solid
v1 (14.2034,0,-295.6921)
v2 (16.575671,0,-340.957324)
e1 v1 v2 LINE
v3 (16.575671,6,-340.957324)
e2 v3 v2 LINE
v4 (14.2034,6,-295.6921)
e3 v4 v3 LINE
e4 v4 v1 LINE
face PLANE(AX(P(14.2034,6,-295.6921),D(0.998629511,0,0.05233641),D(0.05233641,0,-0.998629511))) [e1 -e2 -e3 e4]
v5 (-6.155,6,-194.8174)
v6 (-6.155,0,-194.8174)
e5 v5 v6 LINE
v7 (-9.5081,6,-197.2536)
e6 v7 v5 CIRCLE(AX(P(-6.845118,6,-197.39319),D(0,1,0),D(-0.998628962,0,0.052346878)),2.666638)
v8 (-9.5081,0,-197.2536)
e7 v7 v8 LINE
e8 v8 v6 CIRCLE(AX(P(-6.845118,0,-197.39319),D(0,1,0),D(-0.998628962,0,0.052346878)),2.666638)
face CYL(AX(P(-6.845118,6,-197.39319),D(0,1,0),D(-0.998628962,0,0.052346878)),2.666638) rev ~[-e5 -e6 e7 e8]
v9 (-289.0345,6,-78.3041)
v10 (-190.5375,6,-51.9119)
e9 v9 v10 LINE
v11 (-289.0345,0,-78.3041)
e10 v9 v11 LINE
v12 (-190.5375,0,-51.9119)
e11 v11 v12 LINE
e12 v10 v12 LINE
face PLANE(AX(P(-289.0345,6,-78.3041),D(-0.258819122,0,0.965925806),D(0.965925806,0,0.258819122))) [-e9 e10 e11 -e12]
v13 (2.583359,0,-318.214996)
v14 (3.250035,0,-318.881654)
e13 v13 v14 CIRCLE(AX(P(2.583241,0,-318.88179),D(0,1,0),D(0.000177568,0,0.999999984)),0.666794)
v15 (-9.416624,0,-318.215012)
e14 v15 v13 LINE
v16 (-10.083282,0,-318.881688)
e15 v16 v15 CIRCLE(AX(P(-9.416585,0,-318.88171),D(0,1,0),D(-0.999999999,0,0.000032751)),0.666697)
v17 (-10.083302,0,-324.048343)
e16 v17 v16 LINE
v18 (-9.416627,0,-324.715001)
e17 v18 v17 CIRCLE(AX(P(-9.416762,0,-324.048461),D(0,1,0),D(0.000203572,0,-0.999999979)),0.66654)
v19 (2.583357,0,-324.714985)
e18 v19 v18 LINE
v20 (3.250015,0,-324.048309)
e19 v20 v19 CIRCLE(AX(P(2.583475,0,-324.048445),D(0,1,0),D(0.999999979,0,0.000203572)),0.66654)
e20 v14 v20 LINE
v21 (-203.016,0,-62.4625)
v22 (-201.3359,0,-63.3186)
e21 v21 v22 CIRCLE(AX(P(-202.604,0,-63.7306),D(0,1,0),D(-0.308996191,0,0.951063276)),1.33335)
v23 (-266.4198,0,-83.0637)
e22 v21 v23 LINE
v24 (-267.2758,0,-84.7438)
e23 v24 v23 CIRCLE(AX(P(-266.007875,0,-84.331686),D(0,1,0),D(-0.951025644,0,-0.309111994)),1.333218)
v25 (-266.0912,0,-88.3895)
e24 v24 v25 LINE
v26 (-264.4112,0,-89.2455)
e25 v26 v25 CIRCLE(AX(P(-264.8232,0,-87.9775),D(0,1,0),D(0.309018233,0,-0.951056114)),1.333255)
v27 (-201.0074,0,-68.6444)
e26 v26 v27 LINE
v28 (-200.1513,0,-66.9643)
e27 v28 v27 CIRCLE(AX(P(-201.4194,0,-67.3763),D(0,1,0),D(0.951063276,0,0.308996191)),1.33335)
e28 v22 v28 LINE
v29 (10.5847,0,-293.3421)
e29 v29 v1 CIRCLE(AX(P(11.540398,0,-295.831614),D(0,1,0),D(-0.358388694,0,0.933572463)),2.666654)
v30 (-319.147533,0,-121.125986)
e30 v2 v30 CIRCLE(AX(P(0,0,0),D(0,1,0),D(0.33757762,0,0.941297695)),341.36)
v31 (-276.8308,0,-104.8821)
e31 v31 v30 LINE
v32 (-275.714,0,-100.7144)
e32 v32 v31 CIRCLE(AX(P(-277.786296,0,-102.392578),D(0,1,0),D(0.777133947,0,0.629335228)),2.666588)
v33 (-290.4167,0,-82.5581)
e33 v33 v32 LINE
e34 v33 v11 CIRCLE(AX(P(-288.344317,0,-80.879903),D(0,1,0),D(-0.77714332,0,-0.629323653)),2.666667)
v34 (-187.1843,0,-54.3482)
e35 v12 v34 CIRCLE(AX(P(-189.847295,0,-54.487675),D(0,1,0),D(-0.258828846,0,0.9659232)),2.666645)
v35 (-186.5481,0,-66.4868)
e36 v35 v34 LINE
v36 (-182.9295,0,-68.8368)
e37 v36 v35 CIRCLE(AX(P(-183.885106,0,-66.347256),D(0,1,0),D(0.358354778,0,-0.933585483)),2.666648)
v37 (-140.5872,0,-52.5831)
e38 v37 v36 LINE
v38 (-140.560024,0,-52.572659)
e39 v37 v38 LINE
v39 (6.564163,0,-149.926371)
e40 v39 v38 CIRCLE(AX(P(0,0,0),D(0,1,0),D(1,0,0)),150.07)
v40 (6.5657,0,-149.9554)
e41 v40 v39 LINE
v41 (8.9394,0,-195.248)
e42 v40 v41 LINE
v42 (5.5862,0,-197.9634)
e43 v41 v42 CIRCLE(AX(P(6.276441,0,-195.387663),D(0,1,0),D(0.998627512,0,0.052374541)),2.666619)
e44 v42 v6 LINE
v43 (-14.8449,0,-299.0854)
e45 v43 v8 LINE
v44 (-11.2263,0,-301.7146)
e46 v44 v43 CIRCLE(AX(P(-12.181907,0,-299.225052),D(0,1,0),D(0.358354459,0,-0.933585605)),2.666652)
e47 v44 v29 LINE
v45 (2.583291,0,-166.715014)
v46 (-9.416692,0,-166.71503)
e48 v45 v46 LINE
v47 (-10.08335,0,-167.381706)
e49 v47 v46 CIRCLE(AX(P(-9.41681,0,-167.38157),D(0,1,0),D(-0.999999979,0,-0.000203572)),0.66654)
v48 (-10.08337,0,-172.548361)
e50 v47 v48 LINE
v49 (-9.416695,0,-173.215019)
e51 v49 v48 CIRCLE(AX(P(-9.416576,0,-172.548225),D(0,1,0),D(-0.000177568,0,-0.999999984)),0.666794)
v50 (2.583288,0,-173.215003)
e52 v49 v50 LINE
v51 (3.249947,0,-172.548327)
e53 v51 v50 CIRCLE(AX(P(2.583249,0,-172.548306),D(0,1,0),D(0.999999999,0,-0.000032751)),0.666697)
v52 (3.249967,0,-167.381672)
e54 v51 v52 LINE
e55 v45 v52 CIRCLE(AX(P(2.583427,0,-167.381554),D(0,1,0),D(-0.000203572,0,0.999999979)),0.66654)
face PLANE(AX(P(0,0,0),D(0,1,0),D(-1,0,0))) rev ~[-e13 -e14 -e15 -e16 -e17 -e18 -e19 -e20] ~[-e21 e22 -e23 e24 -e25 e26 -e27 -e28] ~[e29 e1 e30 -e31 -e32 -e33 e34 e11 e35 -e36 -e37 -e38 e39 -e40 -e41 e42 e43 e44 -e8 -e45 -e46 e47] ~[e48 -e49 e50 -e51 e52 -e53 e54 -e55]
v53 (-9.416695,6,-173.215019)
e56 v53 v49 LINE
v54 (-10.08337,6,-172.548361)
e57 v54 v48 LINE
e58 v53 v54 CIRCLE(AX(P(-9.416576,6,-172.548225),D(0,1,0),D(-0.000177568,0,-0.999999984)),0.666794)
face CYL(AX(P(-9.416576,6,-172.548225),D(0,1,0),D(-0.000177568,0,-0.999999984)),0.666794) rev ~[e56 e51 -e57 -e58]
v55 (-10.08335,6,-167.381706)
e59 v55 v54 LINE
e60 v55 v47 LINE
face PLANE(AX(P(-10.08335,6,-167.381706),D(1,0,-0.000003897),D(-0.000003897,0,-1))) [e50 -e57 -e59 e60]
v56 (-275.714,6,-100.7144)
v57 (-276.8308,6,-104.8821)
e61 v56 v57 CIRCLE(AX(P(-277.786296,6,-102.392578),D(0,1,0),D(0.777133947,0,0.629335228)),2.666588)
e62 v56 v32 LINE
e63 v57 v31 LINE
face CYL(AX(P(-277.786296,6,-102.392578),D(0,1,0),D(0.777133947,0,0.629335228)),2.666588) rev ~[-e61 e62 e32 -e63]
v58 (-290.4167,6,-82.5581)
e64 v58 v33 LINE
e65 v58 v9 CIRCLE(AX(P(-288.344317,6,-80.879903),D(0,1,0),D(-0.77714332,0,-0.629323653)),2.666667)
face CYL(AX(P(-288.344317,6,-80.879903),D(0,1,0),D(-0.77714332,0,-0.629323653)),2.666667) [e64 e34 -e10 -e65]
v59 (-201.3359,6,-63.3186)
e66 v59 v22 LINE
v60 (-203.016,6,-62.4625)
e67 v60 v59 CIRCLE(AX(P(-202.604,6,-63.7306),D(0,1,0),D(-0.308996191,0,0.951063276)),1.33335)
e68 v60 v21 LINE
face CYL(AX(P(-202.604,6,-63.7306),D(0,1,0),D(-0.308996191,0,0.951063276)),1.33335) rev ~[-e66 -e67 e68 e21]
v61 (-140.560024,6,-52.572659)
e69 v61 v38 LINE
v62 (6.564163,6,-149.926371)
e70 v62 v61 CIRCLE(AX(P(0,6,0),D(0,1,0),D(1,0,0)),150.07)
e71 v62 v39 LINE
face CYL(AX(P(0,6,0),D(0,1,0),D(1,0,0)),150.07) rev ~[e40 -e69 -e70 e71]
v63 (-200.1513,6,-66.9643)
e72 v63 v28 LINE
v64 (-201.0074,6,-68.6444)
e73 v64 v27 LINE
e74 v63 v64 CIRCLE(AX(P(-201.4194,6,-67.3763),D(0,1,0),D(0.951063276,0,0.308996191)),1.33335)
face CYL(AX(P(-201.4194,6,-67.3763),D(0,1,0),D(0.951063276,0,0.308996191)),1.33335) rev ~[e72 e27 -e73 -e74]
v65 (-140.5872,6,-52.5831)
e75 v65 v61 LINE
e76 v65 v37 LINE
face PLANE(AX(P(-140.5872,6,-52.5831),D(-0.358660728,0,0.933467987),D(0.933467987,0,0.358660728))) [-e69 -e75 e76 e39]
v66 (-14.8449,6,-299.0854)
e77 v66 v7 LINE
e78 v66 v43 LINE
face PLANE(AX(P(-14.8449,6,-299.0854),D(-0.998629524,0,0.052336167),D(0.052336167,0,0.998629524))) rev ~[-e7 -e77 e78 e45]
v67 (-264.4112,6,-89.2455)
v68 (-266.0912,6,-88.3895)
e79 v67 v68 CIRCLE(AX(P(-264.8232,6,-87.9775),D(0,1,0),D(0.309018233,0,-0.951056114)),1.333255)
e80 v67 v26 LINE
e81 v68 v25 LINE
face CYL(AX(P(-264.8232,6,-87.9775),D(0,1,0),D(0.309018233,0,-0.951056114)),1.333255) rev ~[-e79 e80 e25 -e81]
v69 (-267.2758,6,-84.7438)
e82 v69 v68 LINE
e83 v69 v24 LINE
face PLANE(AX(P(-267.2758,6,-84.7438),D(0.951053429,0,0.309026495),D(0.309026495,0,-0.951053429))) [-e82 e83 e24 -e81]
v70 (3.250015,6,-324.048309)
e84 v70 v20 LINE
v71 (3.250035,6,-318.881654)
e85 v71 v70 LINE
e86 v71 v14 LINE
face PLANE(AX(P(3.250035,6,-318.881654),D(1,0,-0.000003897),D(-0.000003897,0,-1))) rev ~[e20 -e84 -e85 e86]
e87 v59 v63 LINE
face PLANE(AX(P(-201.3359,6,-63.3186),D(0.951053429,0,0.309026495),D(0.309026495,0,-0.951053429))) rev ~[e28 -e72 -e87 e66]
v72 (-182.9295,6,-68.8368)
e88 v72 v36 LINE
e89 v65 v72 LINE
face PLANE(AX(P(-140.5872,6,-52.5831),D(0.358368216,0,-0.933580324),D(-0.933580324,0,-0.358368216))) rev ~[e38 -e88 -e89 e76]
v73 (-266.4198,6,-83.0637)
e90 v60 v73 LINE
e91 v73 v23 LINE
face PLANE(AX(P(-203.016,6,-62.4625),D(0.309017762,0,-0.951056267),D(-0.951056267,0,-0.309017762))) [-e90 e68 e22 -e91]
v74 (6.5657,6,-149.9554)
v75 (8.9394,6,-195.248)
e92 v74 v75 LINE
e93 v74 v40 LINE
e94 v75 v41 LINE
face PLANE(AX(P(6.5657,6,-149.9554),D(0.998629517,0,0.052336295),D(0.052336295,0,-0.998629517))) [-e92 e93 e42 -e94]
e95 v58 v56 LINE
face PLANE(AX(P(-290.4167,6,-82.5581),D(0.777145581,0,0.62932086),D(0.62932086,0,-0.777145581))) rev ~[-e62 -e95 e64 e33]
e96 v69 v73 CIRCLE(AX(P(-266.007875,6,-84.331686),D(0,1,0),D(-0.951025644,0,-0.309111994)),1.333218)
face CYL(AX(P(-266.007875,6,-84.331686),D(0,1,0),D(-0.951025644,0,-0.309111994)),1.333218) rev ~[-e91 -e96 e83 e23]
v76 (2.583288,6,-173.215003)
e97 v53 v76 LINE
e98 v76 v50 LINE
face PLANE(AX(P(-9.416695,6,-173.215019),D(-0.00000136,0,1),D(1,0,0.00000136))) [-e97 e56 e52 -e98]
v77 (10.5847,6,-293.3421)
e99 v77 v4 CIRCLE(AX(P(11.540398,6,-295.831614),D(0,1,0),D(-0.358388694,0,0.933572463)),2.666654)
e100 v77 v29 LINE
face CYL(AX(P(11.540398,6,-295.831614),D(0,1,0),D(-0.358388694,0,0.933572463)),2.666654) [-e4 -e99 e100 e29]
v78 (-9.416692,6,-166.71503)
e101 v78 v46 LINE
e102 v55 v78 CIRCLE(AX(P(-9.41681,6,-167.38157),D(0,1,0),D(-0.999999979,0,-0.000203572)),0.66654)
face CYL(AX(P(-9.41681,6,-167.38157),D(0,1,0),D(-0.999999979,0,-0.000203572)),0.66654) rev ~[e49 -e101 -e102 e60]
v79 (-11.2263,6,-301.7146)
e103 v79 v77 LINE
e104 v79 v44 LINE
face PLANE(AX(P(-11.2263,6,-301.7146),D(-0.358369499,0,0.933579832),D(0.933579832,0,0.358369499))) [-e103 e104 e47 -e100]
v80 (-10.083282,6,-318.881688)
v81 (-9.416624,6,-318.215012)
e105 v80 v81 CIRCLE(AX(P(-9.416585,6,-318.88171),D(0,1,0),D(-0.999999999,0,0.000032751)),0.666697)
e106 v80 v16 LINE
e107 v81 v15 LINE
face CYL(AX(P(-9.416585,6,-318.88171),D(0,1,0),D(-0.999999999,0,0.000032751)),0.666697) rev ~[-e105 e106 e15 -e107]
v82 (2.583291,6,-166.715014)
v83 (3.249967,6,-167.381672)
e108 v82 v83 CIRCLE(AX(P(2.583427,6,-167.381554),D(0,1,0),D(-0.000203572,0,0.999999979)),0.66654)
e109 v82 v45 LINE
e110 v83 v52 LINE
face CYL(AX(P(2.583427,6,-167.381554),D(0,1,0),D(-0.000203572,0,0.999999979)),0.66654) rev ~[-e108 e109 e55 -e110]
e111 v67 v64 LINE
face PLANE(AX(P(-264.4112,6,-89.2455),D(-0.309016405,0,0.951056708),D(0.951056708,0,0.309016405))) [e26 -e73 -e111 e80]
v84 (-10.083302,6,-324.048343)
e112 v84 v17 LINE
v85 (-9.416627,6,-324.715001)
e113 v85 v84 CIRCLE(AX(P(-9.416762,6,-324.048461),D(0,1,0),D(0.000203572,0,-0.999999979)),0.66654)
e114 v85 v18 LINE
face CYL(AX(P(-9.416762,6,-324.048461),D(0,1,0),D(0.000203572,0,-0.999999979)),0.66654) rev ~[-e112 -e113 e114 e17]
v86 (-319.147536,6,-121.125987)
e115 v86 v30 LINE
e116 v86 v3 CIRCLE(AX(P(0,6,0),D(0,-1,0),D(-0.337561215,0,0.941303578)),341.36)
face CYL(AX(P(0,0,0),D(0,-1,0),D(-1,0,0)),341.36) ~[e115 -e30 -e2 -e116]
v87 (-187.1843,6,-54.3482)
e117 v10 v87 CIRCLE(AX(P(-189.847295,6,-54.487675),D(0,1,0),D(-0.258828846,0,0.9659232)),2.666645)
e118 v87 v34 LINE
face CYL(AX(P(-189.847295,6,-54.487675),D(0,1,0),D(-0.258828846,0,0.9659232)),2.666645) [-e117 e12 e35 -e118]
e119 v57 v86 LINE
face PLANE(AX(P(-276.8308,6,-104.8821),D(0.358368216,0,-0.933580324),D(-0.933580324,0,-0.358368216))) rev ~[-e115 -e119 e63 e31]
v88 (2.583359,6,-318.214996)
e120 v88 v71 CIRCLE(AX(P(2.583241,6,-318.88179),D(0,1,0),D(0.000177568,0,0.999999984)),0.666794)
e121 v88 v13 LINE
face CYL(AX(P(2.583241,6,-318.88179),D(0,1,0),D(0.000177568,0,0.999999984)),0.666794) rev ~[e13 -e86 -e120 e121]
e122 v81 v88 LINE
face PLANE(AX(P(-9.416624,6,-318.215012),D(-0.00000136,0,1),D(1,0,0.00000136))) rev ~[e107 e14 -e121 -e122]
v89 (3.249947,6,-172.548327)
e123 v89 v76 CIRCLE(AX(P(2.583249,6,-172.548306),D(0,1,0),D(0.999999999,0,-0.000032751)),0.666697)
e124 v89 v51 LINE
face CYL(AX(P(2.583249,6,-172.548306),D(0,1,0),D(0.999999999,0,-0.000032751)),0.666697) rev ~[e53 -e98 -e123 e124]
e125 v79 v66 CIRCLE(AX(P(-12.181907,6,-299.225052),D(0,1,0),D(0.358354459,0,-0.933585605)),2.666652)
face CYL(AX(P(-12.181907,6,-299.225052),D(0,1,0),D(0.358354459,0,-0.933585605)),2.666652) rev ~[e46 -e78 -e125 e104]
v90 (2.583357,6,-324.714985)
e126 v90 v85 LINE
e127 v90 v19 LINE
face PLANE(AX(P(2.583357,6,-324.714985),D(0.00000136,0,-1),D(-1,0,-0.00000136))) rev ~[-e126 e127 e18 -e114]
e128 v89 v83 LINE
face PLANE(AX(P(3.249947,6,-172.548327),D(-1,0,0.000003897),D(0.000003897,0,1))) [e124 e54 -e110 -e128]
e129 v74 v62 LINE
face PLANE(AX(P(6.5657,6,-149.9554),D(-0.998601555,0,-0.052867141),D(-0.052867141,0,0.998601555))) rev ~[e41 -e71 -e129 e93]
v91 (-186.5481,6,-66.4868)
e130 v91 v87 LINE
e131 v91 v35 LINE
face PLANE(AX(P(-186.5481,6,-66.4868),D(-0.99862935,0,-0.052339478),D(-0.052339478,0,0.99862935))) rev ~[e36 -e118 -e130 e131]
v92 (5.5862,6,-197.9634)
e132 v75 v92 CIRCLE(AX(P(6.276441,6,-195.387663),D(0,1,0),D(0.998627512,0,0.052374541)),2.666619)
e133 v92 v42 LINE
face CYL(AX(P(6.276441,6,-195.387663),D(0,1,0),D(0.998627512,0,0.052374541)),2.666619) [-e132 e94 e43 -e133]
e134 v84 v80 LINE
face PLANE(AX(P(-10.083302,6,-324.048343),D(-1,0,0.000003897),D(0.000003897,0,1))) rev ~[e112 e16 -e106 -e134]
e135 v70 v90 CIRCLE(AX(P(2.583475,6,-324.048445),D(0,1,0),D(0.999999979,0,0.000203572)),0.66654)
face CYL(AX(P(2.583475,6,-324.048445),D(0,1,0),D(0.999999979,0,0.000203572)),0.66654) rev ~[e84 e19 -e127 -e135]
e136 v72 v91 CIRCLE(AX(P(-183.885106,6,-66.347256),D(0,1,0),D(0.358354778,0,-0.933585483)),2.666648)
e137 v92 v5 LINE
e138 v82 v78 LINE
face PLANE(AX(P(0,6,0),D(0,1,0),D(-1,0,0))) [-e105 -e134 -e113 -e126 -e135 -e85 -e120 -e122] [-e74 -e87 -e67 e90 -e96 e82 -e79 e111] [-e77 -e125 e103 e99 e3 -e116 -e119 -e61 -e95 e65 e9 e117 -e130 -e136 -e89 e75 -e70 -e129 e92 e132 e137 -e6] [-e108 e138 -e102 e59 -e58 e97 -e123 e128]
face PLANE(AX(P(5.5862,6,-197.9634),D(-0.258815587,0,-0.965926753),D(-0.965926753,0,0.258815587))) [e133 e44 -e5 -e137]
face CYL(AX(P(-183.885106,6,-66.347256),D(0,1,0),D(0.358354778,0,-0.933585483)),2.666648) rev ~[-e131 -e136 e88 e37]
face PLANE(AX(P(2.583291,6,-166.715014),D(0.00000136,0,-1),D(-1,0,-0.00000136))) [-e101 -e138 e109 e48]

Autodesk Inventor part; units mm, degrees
ref_plane "YZ Plane" through (0, 0, 0) normal (1, 0, 0) x (0, 1, 0)
ref_plane "XZ Plane" through (0, 0, 0) normal (0, 1, 0) x (-1, 0, 0)
ref_plane "XY Plane" through (0, 0, 0) normal (0, 0, 1) x (1, 0, 0)
sketch "Sketch1" plane through (0, 0, 0) normal (0, 1, 0) x (-1, 0, 0)
  circle A0 centre (0, 0) radius 341.36
  circle A1 centre (0, 0) radius 150.07
  dimension "d84" = 300.14
  dimension "d85" = 682.72
extrude "Extrusion3" add sketch "Sketch1" along normal blind 6 contours A0 | A1
sketch "Sketch2" plane through (0, 6, 0) normal (0, 1, 0) x (1, 0, 0)
  circle A0 centre (0, 0) radius 245.715 construction
  line L0 (245.7148, 0.3131) -> (341.6521, -0.0088)
  line L1 (3.25, 279.0483) -> (3.25, 212.3817)
  line L2 (-3.25, 212.3817) -> (-3.25, 279.0483)
  arc A1 (-3.25, 212.3817) -> (-1.9167, 211.0483) centre (-1.9167, 212.3817) ccw
  arc A2 (1.9167, 211.0483) -> (3.25, 212.3817) centre (1.9167, 212.3817) ccw
  arc A3 (-1.9167, 280.3817) -> (-3.25, 279.0483) centre (-1.9167, 279.0483) ccw
  arc A4 (3.25, 279.0483) -> (1.9167, 280.3817) centre (1.9167, 279.0483) ccw
  line L3 (-1.9167, 280.3817) -> (1.9167, 280.3817)
  line L4 (-1.9167, 211.0483) -> (1.9167, 211.0483)
  line L5 (0, 0) -> (0, 212.3817)
  line L6 (0, 280.3817) -> (0, 341.36)
  line L7 (0, 211.0483) -> (0, 245.715) construction
  line L8 (0, 280.3817) -> (0, 245.715) construction
  line L9 (-266.6835, 86.5666) -> (-233.7136, 75.854) construction
  line L10 (-264.4112, 89.2455) -> (-201.0074, 68.6444)
  arc A5 (-200.1513, 66.9643) -> (-201.0074, 68.6444) centre (-201.4194, 67.3763) ccw
  line L11 (-200.7436, 65.1414) -> (-233.7136, 75.854) construction
  line L12 (-201.3359, 63.3186) -> (-200.1513, 66.9643)
  line L13 (-267.2758, 84.7438) -> (-266.0912, 88.3895)
  line L14 (-203.016, 62.4625) -> (-266.4198, 83.0637)
  arc A6 (-203.016, 62.4625) -> (-201.3359, 63.3186) centre (-202.604, 63.7306) ccw
  arc A7 (-267.2758, 84.7438) -> (-266.4198, 83.0637) centre (-266.0077, 84.3317) ccw
  arc A8 (-264.4112, 89.2455) -> (-266.0912, 88.3895) centre (-264.8232, 87.9775) ccw
  line L15 (-165.0631, -226.6454) -> (-144.6865, -198.5995) construction
  line L16 (-166.9087, -223.6565) -> (-127.723, -169.722)
  arc A9 (-125.8606, -169.427) -> (-127.723, -169.722) centre (-126.6443, -170.5057) ccw
  line L17 (-124.31, -170.5536) -> (-144.6865, -198.5995) construction
  line L18 (-122.7594, -171.6802) -> (-125.8606, -169.427)
  line L19 (-163.5125, -227.772) -> (-166.6137, -225.5189)
  line L20 (-122.4644, -173.5426) -> (-161.6501, -227.4771)
  arc A10 (-122.4644, -173.5426) -> (-122.7594, -171.6802) centre (-123.5431, -172.7589) ccw
  arc A11 (-163.5125, -227.772) -> (-161.6501, -227.4771) centre (-162.7288, -226.6933) ccw
  arc A12 (-166.9087, -223.6565) -> (-166.6137, -225.5189) centre (-165.83, -224.4402) ccw
  line L21 (164.8042, -226.8335) -> (144.4277, -198.7876) construction
  line L22 (160.9139, -228.0119) -> (121.7282, -174.0775)
  arc A13 (122.0232, -172.2151) -> (121.7282, -174.0775) centre (122.8069, -173.2938) ccw
  line L23 (123.5738, -171.0885) -> (144.4277, -198.7876) construction
  line L24 (125.1244, -169.9619) -> (122.0232, -172.2151)
  line L25 (165.8775, -226.0537) -> (162.7763, -228.3069)
  line L26 (126.9868, -170.2569) -> (166.1725, -224.1913)
  arc A14 (126.9868, -170.2569) -> (125.1244, -169.9619) centre (125.9081, -171.0406) ccw
  arc A15 (165.8775, -226.0537) -> (166.1725, -224.1913) centre (165.0938, -224.975) ccw
  arc A16 (160.9139, -228.0119) -> (162.7763, -228.3069) centre (161.9926, -227.2282) ccw
  line L27 (266.7793, 86.2718) -> (233.8094, 75.5592) construction
  line L28 (266.5156, 82.7688) -> (203.1118, 62.1677)
  arc A17 (201.4317, 63.0238) -> (203.1118, 62.1677) centre (202.6998, 63.4358) ccw
  line L29 (200.8394, 64.8466) -> (233.8094, 75.5592) construction
  line L30 (200.2471, 66.6695) -> (201.4317, 63.0238)
  line L31 (266.187, 88.0946) -> (267.3716, 84.4489)
  line L32 (201.1032, 68.3496) -> (264.5069, 88.9507)
  arc A18 (201.1032, 68.3496) -> (200.2471, 66.6695) centre (201.5152, 67.0815) ccw
  arc A19 (266.187, 88.0946) -> (264.5069, 88.9507) centre (264.919, 87.6826) ccw
  arc A20 (266.5156, 82.7688) -> (267.3716, 84.4489) centre (266.1035, 84.0369) ccw
  point P0 (-202.0117, 65.5535)
  point P1 (-125.0937, -171.6323)
  point P2 (124.8348, -171.8204)
  point P3 (202.1075, 65.2586)
  dimension "d21" = 6.5
  dimension "d24" = 2.6667
  dimension "d25" = 2.6667
  dimension "d32" = 1.3333
  dimension "d33" = 1.3333
  dimension "d41" = 90
  dimension "d42" = 3.25
  dimension "d43" = 90
  dimension "d86" = 491.43
extrude "Extrusion4" cut sketch "Sketch2" against normal through all
sketch "Sketch3" plane through (0, 6, 0) normal (0, 1, 0) x (1, 0, 0)
  arc A0 (-115.2299, -321.3234) -> (115.2355, -321.3214) centre (0, 0) ccw
  arc A1 (-77.7244, -128.3741) -> (77.7297, -128.3709) centre (0, 0) ccw
  line L0 (-122.1811, -173.696) -> (-161.3589, -227.6196)
  line L1 (-115.2299, -321.3234) -> (-77.7244, -128.3741)
  line L2 (0, 0) -> (0, -341.2918)
  line L3 (115.2355, -321.3214) -> (77.7297, -128.3709)
  line L4 (161.3912, -227.6651) -> (122.2055, -173.7307) projected
  dimension "d52" = 25
  dimension "d87" = 150.07
  dimension "d88" = 341.36
  dimension "d89" = 25
  dimension "d90" = 11
  dimension "d91" = 11
extrude "Extrusion5" cut sketch "Sketch3" against normal blind 10
sketch "Sketch5" plane through (0, 6, 0) normal (0, 1, 0) x (1, 0, 0)
  line L0 (3.25, 279.0483) -> (3.25, 212.3817) projected
  line L1 (5.5862, 197.9634) -> (-6.155, 194.8174)
  line L2 (-11.2263, 301.7146) -> (10.5847, 293.3421)
  line L3 (6.5657, 149.9554) -> (8.9394, 195.248)
  line L4 (14.2034, 295.6921) -> (16.5771, 340.9846)
  arc A0 (10.5847, 293.3421) -> (14.2034, 295.6921) centre (11.5404, 295.8316) ccw
  arc A1 (8.9394, 195.248) -> (5.5862, 197.9634) centre (6.2763, 195.3876) ccw
  arc A2 (-11.2263, 301.7146) -> (-14.8449, 299.0854) centre (-12.1819, 299.225) ccw
  line L5 (-3.25, 212.3817) -> (-3.25, 279.0483) projected
  line L6 (-14.8449, 299.0854) -> (-9.5081, 197.2536)
  arc A3 (-9.5081, 197.2536) -> (-6.155, 194.8174) centre (-6.8451, 197.3932) ccw
  line L7 (-1.9167, 211.0483) -> (1.9167, 211.0483) projected
  line L8 (1.9167, 280.3817) -> (-1.9167, 280.3817) projected
  arc A4 (115.2355, -321.3214) -> (-115.2299, -321.3234) centre (0, 0) ccw
  line L9 (16.5771, 340.9846) -> (16.5774, 340.9903)
  arc A5 (-190.5375, 51.9119) -> (-187.1843, 54.3482) centre (-189.8473, 54.4877) ccw
  line L10 (-186.5481, 66.4868) -> (-187.1843, 54.3482)
  arc A6 (-182.9295, 68.8368) -> (-186.5481, 66.4868) centre (-183.8851, 66.3472) ccw
  arc A7 (-275.714, 100.7144) -> (-276.8308, 104.8821) centre (-277.7864, 102.3926) ccw
  line L11 (-289.0345, 78.3041) -> (-190.5375, 51.9119)
  arc A8 (-290.4167, 82.5581) -> (-289.0345, 78.3041) centre (-288.3443, 80.8799) ccw
  line L12 (-290.4167, 82.5581) -> (-275.714, 100.7144)
  line L13 (-276.8308, 104.8821) -> (-319.1731, 121.1358)
  line L14 (-140.5872, 52.5831) -> (-182.9295, 68.8368)
  line L15 (-319.1731, 121.1358) -> (-319.1784, 121.1378)
  arc A9 (184.6611, 69.9975) -> (183.3803, 66.0556) centre (185.6168, 67.508) ccw
  line L16 (190.0006, 55.8613) -> (183.3803, 66.0556)
  arc A10 (188.4543, 51.8331) -> (190.0006, 55.8613) centre (187.7641, 54.4089) ccw
  arc A11 (282.2558, 80.581) -> (285.609, 77.8656) centre (284.9188, 80.4414) ccw
  line L17 (279.8598, 106.5409) -> (184.6611, 69.9975)
  arc A12 (283.4785, 103.9117) -> (279.8598, 106.5409) centre (280.8155, 104.0513) ccw
  line L18 (283.4785, 103.9117) -> (282.2558, 80.581)
  line L19 (285.609, 77.8656) -> (329.4183, 89.6043)
  line L20 (144.645, 40.0945) -> (188.4543, 51.8331)
  line L21 (329.4183, 89.6043) -> (329.4238, 89.6058)
  circle A13 centre (0, 0) radius 150.07
  line L22 (-140.5872, 52.5831) -> (-140.5479, 52.568)
  line L23 (144.645, 40.0945) -> (144.5122, 40.0589)
  line L24 (6.5657, 149.9554) -> (6.5621, 149.8874)
  arc A14 (-77.7244, -128.3741) -> (77.7297, -128.3709) centre (0, 0) ccw projected
  arc A15 (115.2355, -321.3214) -> (-115.2299, -321.3234) centre (0, 0) ccw projected
  line L25 (77.7297, -128.3709) -> (115.2355, -321.3214)
  line L26 (-77.7244, -128.3741) -> (-115.2299, -321.3234)
  point P0 (-77.7399, -128.3998)
  point P1 (77.7399, -128.3998)
  point P2 (-319.1475, 121.126)
  point P3 (-140.56, 52.5727)
  point P4 (6.5642, 149.9264)
  point P5 (16.5757, 340.9573)
  point P6 (329.3918, 89.5972)
  point P7 (144.6169, 40.0869)
  dimension "d63" = 2.6667
  dimension "d64" = 3
  dimension "d66" = 3
  dimension "d67" = 2.6667
  dimension "d68" = 2.6667
  dimension "d70" = 72
  dimension "d71" = 72
  dimension "d94" = 300.14
  dimension "d95" = 682.72
sketch "Sketch6" plane through (0, 6, 0) normal (0, 1, 0) x (1, 0, 0)
  line L0 (188.7727, -264.2184) -> (198.4809, -257.165)
  line L1 (194.6603, -251.9064) -> (184.9521, -258.9598)
  line L2 (161.3912, -227.6651) -> (122.2055, -173.7307) projected
  line L3 (166.3548, -225.7069) -> (163.2536, -227.9601) projected
  arc A0 (195.5915, -252.0539) -> (194.6603, -251.9064) centre (195.0522, -252.4457) ccw
  arc A1 (198.4809, -257.165) -> (198.6284, -256.2338) centre (198.0891, -256.6256) ccw
  arc A2 (187.8415, -264.0709) -> (188.7727, -264.2184) centre (188.3809, -263.6791) ccw
  arc A3 (184.9521, -258.9598) -> (184.8046, -259.891) centre (185.344, -259.4991) ccw
  line L4 (184.8046, -259.891) -> (187.8415, -264.0709)
  line L5 (198.6284, -256.2338) -> (195.5915, -252.0539)
  line L6 (122.2055, -173.7307) -> (161.3912, -227.6651) projected
  line L7 (141.7983, -200.6979) -> (147.057, -196.8773)
  line L8 (166.6498, -223.8445) -> (127.4641, -169.9101) projected
  line L9 (95.9027, -136.3937) -> (105.6109, -129.3403)
  line L10 (109.4315, -134.5989) -> (99.7233, -141.6523)
  arc A4 (109.4315, -134.5989) -> (109.579, -133.6677) centre (109.0396, -134.0596) ccw
  arc A5 (106.5421, -129.4878) -> (105.6109, -129.3403) centre (106.0027, -129.8796) ccw
  arc A6 (95.9027, -136.3937) -> (95.7552, -137.3249) centre (96.2945, -136.9331) ccw
  arc A7 (98.7921, -141.5048) -> (99.7233, -141.6523) centre (99.3314, -141.113) ccw
  line L11 (98.7921, -141.5048) -> (95.7552, -137.3249)
  line L12 (106.5421, -129.4878) -> (109.579, -133.6677)
  point P0 (0, 0)
  dimension "d104" = 6.5
  dimension "d105" = 12
  dimension "d108" = 1.3333
  dimension "d109" = 1.3333
  dimension "d110" = 1.3333
  dimension "d111" = 1.3333
  dimension "d112" = 0
  dimension "d149" = 145
  dimension "d150" = 90
  dimension "d151" = 90
  dimension "d152" = 90
  dimension "d153" = 90
extrude "Extrusion7" cut sketch "Sketch6" against normal through all
pattern_circular "Circular Pattern2" count 2 over 72 about axis through (0, -10, 0) along (0, 1, 0) of "Extrusion7"
pattern_circular "Circular Pattern3" count 2 over 144 about axis through (0, -10, 0) along (0, 1, 0) of "Extrusion7"
mirror "Mirror3" about plane through (0, 0, 0) normal (1, 0, 0) of "Extrusion7"
pattern_circular "Circular Pattern4" count 2 over 144 about axis through (0, -10, 0) along (0, -1, 0) of "Extrusion7"
extrude "Extrusion10" cut sketch "Sketch5" against normal through all contours L1 A3 L6 A2 L2 A0 L4 A4 L19 A11 L18 A12 L17 A9 L16 A10 L20 L23 A13 L24 L3 A1 | A13 | L23 L20 A10 L16 A9 L17 A12 L18 A11 L19 A4 L25 A13 | A13 L26 A4 L13 A7 L12 A8 L11 A5 L10 A6 L14 L22
equation "\"BendRadius\" = Thickness"
equation "\"BendReliefWidth\" = Thickness"
equation "\"BendReliefDepth\" = 0.5 * Thickness"
equation "\"CornerReliefSize\" = 4 * Thickness"
equation "\"MinimumRemnant\" = 2 * Thickness"
equation "\"TransitionRadius\" = BendRadius"
equation "\"JacobiRadiusSize\" = BendRadius"
equation "\"GapSize\" = Thickness"
equation "\"Thickness\" = 0.5"
properties part number "Ring B2" material "Wood (Maple)"
